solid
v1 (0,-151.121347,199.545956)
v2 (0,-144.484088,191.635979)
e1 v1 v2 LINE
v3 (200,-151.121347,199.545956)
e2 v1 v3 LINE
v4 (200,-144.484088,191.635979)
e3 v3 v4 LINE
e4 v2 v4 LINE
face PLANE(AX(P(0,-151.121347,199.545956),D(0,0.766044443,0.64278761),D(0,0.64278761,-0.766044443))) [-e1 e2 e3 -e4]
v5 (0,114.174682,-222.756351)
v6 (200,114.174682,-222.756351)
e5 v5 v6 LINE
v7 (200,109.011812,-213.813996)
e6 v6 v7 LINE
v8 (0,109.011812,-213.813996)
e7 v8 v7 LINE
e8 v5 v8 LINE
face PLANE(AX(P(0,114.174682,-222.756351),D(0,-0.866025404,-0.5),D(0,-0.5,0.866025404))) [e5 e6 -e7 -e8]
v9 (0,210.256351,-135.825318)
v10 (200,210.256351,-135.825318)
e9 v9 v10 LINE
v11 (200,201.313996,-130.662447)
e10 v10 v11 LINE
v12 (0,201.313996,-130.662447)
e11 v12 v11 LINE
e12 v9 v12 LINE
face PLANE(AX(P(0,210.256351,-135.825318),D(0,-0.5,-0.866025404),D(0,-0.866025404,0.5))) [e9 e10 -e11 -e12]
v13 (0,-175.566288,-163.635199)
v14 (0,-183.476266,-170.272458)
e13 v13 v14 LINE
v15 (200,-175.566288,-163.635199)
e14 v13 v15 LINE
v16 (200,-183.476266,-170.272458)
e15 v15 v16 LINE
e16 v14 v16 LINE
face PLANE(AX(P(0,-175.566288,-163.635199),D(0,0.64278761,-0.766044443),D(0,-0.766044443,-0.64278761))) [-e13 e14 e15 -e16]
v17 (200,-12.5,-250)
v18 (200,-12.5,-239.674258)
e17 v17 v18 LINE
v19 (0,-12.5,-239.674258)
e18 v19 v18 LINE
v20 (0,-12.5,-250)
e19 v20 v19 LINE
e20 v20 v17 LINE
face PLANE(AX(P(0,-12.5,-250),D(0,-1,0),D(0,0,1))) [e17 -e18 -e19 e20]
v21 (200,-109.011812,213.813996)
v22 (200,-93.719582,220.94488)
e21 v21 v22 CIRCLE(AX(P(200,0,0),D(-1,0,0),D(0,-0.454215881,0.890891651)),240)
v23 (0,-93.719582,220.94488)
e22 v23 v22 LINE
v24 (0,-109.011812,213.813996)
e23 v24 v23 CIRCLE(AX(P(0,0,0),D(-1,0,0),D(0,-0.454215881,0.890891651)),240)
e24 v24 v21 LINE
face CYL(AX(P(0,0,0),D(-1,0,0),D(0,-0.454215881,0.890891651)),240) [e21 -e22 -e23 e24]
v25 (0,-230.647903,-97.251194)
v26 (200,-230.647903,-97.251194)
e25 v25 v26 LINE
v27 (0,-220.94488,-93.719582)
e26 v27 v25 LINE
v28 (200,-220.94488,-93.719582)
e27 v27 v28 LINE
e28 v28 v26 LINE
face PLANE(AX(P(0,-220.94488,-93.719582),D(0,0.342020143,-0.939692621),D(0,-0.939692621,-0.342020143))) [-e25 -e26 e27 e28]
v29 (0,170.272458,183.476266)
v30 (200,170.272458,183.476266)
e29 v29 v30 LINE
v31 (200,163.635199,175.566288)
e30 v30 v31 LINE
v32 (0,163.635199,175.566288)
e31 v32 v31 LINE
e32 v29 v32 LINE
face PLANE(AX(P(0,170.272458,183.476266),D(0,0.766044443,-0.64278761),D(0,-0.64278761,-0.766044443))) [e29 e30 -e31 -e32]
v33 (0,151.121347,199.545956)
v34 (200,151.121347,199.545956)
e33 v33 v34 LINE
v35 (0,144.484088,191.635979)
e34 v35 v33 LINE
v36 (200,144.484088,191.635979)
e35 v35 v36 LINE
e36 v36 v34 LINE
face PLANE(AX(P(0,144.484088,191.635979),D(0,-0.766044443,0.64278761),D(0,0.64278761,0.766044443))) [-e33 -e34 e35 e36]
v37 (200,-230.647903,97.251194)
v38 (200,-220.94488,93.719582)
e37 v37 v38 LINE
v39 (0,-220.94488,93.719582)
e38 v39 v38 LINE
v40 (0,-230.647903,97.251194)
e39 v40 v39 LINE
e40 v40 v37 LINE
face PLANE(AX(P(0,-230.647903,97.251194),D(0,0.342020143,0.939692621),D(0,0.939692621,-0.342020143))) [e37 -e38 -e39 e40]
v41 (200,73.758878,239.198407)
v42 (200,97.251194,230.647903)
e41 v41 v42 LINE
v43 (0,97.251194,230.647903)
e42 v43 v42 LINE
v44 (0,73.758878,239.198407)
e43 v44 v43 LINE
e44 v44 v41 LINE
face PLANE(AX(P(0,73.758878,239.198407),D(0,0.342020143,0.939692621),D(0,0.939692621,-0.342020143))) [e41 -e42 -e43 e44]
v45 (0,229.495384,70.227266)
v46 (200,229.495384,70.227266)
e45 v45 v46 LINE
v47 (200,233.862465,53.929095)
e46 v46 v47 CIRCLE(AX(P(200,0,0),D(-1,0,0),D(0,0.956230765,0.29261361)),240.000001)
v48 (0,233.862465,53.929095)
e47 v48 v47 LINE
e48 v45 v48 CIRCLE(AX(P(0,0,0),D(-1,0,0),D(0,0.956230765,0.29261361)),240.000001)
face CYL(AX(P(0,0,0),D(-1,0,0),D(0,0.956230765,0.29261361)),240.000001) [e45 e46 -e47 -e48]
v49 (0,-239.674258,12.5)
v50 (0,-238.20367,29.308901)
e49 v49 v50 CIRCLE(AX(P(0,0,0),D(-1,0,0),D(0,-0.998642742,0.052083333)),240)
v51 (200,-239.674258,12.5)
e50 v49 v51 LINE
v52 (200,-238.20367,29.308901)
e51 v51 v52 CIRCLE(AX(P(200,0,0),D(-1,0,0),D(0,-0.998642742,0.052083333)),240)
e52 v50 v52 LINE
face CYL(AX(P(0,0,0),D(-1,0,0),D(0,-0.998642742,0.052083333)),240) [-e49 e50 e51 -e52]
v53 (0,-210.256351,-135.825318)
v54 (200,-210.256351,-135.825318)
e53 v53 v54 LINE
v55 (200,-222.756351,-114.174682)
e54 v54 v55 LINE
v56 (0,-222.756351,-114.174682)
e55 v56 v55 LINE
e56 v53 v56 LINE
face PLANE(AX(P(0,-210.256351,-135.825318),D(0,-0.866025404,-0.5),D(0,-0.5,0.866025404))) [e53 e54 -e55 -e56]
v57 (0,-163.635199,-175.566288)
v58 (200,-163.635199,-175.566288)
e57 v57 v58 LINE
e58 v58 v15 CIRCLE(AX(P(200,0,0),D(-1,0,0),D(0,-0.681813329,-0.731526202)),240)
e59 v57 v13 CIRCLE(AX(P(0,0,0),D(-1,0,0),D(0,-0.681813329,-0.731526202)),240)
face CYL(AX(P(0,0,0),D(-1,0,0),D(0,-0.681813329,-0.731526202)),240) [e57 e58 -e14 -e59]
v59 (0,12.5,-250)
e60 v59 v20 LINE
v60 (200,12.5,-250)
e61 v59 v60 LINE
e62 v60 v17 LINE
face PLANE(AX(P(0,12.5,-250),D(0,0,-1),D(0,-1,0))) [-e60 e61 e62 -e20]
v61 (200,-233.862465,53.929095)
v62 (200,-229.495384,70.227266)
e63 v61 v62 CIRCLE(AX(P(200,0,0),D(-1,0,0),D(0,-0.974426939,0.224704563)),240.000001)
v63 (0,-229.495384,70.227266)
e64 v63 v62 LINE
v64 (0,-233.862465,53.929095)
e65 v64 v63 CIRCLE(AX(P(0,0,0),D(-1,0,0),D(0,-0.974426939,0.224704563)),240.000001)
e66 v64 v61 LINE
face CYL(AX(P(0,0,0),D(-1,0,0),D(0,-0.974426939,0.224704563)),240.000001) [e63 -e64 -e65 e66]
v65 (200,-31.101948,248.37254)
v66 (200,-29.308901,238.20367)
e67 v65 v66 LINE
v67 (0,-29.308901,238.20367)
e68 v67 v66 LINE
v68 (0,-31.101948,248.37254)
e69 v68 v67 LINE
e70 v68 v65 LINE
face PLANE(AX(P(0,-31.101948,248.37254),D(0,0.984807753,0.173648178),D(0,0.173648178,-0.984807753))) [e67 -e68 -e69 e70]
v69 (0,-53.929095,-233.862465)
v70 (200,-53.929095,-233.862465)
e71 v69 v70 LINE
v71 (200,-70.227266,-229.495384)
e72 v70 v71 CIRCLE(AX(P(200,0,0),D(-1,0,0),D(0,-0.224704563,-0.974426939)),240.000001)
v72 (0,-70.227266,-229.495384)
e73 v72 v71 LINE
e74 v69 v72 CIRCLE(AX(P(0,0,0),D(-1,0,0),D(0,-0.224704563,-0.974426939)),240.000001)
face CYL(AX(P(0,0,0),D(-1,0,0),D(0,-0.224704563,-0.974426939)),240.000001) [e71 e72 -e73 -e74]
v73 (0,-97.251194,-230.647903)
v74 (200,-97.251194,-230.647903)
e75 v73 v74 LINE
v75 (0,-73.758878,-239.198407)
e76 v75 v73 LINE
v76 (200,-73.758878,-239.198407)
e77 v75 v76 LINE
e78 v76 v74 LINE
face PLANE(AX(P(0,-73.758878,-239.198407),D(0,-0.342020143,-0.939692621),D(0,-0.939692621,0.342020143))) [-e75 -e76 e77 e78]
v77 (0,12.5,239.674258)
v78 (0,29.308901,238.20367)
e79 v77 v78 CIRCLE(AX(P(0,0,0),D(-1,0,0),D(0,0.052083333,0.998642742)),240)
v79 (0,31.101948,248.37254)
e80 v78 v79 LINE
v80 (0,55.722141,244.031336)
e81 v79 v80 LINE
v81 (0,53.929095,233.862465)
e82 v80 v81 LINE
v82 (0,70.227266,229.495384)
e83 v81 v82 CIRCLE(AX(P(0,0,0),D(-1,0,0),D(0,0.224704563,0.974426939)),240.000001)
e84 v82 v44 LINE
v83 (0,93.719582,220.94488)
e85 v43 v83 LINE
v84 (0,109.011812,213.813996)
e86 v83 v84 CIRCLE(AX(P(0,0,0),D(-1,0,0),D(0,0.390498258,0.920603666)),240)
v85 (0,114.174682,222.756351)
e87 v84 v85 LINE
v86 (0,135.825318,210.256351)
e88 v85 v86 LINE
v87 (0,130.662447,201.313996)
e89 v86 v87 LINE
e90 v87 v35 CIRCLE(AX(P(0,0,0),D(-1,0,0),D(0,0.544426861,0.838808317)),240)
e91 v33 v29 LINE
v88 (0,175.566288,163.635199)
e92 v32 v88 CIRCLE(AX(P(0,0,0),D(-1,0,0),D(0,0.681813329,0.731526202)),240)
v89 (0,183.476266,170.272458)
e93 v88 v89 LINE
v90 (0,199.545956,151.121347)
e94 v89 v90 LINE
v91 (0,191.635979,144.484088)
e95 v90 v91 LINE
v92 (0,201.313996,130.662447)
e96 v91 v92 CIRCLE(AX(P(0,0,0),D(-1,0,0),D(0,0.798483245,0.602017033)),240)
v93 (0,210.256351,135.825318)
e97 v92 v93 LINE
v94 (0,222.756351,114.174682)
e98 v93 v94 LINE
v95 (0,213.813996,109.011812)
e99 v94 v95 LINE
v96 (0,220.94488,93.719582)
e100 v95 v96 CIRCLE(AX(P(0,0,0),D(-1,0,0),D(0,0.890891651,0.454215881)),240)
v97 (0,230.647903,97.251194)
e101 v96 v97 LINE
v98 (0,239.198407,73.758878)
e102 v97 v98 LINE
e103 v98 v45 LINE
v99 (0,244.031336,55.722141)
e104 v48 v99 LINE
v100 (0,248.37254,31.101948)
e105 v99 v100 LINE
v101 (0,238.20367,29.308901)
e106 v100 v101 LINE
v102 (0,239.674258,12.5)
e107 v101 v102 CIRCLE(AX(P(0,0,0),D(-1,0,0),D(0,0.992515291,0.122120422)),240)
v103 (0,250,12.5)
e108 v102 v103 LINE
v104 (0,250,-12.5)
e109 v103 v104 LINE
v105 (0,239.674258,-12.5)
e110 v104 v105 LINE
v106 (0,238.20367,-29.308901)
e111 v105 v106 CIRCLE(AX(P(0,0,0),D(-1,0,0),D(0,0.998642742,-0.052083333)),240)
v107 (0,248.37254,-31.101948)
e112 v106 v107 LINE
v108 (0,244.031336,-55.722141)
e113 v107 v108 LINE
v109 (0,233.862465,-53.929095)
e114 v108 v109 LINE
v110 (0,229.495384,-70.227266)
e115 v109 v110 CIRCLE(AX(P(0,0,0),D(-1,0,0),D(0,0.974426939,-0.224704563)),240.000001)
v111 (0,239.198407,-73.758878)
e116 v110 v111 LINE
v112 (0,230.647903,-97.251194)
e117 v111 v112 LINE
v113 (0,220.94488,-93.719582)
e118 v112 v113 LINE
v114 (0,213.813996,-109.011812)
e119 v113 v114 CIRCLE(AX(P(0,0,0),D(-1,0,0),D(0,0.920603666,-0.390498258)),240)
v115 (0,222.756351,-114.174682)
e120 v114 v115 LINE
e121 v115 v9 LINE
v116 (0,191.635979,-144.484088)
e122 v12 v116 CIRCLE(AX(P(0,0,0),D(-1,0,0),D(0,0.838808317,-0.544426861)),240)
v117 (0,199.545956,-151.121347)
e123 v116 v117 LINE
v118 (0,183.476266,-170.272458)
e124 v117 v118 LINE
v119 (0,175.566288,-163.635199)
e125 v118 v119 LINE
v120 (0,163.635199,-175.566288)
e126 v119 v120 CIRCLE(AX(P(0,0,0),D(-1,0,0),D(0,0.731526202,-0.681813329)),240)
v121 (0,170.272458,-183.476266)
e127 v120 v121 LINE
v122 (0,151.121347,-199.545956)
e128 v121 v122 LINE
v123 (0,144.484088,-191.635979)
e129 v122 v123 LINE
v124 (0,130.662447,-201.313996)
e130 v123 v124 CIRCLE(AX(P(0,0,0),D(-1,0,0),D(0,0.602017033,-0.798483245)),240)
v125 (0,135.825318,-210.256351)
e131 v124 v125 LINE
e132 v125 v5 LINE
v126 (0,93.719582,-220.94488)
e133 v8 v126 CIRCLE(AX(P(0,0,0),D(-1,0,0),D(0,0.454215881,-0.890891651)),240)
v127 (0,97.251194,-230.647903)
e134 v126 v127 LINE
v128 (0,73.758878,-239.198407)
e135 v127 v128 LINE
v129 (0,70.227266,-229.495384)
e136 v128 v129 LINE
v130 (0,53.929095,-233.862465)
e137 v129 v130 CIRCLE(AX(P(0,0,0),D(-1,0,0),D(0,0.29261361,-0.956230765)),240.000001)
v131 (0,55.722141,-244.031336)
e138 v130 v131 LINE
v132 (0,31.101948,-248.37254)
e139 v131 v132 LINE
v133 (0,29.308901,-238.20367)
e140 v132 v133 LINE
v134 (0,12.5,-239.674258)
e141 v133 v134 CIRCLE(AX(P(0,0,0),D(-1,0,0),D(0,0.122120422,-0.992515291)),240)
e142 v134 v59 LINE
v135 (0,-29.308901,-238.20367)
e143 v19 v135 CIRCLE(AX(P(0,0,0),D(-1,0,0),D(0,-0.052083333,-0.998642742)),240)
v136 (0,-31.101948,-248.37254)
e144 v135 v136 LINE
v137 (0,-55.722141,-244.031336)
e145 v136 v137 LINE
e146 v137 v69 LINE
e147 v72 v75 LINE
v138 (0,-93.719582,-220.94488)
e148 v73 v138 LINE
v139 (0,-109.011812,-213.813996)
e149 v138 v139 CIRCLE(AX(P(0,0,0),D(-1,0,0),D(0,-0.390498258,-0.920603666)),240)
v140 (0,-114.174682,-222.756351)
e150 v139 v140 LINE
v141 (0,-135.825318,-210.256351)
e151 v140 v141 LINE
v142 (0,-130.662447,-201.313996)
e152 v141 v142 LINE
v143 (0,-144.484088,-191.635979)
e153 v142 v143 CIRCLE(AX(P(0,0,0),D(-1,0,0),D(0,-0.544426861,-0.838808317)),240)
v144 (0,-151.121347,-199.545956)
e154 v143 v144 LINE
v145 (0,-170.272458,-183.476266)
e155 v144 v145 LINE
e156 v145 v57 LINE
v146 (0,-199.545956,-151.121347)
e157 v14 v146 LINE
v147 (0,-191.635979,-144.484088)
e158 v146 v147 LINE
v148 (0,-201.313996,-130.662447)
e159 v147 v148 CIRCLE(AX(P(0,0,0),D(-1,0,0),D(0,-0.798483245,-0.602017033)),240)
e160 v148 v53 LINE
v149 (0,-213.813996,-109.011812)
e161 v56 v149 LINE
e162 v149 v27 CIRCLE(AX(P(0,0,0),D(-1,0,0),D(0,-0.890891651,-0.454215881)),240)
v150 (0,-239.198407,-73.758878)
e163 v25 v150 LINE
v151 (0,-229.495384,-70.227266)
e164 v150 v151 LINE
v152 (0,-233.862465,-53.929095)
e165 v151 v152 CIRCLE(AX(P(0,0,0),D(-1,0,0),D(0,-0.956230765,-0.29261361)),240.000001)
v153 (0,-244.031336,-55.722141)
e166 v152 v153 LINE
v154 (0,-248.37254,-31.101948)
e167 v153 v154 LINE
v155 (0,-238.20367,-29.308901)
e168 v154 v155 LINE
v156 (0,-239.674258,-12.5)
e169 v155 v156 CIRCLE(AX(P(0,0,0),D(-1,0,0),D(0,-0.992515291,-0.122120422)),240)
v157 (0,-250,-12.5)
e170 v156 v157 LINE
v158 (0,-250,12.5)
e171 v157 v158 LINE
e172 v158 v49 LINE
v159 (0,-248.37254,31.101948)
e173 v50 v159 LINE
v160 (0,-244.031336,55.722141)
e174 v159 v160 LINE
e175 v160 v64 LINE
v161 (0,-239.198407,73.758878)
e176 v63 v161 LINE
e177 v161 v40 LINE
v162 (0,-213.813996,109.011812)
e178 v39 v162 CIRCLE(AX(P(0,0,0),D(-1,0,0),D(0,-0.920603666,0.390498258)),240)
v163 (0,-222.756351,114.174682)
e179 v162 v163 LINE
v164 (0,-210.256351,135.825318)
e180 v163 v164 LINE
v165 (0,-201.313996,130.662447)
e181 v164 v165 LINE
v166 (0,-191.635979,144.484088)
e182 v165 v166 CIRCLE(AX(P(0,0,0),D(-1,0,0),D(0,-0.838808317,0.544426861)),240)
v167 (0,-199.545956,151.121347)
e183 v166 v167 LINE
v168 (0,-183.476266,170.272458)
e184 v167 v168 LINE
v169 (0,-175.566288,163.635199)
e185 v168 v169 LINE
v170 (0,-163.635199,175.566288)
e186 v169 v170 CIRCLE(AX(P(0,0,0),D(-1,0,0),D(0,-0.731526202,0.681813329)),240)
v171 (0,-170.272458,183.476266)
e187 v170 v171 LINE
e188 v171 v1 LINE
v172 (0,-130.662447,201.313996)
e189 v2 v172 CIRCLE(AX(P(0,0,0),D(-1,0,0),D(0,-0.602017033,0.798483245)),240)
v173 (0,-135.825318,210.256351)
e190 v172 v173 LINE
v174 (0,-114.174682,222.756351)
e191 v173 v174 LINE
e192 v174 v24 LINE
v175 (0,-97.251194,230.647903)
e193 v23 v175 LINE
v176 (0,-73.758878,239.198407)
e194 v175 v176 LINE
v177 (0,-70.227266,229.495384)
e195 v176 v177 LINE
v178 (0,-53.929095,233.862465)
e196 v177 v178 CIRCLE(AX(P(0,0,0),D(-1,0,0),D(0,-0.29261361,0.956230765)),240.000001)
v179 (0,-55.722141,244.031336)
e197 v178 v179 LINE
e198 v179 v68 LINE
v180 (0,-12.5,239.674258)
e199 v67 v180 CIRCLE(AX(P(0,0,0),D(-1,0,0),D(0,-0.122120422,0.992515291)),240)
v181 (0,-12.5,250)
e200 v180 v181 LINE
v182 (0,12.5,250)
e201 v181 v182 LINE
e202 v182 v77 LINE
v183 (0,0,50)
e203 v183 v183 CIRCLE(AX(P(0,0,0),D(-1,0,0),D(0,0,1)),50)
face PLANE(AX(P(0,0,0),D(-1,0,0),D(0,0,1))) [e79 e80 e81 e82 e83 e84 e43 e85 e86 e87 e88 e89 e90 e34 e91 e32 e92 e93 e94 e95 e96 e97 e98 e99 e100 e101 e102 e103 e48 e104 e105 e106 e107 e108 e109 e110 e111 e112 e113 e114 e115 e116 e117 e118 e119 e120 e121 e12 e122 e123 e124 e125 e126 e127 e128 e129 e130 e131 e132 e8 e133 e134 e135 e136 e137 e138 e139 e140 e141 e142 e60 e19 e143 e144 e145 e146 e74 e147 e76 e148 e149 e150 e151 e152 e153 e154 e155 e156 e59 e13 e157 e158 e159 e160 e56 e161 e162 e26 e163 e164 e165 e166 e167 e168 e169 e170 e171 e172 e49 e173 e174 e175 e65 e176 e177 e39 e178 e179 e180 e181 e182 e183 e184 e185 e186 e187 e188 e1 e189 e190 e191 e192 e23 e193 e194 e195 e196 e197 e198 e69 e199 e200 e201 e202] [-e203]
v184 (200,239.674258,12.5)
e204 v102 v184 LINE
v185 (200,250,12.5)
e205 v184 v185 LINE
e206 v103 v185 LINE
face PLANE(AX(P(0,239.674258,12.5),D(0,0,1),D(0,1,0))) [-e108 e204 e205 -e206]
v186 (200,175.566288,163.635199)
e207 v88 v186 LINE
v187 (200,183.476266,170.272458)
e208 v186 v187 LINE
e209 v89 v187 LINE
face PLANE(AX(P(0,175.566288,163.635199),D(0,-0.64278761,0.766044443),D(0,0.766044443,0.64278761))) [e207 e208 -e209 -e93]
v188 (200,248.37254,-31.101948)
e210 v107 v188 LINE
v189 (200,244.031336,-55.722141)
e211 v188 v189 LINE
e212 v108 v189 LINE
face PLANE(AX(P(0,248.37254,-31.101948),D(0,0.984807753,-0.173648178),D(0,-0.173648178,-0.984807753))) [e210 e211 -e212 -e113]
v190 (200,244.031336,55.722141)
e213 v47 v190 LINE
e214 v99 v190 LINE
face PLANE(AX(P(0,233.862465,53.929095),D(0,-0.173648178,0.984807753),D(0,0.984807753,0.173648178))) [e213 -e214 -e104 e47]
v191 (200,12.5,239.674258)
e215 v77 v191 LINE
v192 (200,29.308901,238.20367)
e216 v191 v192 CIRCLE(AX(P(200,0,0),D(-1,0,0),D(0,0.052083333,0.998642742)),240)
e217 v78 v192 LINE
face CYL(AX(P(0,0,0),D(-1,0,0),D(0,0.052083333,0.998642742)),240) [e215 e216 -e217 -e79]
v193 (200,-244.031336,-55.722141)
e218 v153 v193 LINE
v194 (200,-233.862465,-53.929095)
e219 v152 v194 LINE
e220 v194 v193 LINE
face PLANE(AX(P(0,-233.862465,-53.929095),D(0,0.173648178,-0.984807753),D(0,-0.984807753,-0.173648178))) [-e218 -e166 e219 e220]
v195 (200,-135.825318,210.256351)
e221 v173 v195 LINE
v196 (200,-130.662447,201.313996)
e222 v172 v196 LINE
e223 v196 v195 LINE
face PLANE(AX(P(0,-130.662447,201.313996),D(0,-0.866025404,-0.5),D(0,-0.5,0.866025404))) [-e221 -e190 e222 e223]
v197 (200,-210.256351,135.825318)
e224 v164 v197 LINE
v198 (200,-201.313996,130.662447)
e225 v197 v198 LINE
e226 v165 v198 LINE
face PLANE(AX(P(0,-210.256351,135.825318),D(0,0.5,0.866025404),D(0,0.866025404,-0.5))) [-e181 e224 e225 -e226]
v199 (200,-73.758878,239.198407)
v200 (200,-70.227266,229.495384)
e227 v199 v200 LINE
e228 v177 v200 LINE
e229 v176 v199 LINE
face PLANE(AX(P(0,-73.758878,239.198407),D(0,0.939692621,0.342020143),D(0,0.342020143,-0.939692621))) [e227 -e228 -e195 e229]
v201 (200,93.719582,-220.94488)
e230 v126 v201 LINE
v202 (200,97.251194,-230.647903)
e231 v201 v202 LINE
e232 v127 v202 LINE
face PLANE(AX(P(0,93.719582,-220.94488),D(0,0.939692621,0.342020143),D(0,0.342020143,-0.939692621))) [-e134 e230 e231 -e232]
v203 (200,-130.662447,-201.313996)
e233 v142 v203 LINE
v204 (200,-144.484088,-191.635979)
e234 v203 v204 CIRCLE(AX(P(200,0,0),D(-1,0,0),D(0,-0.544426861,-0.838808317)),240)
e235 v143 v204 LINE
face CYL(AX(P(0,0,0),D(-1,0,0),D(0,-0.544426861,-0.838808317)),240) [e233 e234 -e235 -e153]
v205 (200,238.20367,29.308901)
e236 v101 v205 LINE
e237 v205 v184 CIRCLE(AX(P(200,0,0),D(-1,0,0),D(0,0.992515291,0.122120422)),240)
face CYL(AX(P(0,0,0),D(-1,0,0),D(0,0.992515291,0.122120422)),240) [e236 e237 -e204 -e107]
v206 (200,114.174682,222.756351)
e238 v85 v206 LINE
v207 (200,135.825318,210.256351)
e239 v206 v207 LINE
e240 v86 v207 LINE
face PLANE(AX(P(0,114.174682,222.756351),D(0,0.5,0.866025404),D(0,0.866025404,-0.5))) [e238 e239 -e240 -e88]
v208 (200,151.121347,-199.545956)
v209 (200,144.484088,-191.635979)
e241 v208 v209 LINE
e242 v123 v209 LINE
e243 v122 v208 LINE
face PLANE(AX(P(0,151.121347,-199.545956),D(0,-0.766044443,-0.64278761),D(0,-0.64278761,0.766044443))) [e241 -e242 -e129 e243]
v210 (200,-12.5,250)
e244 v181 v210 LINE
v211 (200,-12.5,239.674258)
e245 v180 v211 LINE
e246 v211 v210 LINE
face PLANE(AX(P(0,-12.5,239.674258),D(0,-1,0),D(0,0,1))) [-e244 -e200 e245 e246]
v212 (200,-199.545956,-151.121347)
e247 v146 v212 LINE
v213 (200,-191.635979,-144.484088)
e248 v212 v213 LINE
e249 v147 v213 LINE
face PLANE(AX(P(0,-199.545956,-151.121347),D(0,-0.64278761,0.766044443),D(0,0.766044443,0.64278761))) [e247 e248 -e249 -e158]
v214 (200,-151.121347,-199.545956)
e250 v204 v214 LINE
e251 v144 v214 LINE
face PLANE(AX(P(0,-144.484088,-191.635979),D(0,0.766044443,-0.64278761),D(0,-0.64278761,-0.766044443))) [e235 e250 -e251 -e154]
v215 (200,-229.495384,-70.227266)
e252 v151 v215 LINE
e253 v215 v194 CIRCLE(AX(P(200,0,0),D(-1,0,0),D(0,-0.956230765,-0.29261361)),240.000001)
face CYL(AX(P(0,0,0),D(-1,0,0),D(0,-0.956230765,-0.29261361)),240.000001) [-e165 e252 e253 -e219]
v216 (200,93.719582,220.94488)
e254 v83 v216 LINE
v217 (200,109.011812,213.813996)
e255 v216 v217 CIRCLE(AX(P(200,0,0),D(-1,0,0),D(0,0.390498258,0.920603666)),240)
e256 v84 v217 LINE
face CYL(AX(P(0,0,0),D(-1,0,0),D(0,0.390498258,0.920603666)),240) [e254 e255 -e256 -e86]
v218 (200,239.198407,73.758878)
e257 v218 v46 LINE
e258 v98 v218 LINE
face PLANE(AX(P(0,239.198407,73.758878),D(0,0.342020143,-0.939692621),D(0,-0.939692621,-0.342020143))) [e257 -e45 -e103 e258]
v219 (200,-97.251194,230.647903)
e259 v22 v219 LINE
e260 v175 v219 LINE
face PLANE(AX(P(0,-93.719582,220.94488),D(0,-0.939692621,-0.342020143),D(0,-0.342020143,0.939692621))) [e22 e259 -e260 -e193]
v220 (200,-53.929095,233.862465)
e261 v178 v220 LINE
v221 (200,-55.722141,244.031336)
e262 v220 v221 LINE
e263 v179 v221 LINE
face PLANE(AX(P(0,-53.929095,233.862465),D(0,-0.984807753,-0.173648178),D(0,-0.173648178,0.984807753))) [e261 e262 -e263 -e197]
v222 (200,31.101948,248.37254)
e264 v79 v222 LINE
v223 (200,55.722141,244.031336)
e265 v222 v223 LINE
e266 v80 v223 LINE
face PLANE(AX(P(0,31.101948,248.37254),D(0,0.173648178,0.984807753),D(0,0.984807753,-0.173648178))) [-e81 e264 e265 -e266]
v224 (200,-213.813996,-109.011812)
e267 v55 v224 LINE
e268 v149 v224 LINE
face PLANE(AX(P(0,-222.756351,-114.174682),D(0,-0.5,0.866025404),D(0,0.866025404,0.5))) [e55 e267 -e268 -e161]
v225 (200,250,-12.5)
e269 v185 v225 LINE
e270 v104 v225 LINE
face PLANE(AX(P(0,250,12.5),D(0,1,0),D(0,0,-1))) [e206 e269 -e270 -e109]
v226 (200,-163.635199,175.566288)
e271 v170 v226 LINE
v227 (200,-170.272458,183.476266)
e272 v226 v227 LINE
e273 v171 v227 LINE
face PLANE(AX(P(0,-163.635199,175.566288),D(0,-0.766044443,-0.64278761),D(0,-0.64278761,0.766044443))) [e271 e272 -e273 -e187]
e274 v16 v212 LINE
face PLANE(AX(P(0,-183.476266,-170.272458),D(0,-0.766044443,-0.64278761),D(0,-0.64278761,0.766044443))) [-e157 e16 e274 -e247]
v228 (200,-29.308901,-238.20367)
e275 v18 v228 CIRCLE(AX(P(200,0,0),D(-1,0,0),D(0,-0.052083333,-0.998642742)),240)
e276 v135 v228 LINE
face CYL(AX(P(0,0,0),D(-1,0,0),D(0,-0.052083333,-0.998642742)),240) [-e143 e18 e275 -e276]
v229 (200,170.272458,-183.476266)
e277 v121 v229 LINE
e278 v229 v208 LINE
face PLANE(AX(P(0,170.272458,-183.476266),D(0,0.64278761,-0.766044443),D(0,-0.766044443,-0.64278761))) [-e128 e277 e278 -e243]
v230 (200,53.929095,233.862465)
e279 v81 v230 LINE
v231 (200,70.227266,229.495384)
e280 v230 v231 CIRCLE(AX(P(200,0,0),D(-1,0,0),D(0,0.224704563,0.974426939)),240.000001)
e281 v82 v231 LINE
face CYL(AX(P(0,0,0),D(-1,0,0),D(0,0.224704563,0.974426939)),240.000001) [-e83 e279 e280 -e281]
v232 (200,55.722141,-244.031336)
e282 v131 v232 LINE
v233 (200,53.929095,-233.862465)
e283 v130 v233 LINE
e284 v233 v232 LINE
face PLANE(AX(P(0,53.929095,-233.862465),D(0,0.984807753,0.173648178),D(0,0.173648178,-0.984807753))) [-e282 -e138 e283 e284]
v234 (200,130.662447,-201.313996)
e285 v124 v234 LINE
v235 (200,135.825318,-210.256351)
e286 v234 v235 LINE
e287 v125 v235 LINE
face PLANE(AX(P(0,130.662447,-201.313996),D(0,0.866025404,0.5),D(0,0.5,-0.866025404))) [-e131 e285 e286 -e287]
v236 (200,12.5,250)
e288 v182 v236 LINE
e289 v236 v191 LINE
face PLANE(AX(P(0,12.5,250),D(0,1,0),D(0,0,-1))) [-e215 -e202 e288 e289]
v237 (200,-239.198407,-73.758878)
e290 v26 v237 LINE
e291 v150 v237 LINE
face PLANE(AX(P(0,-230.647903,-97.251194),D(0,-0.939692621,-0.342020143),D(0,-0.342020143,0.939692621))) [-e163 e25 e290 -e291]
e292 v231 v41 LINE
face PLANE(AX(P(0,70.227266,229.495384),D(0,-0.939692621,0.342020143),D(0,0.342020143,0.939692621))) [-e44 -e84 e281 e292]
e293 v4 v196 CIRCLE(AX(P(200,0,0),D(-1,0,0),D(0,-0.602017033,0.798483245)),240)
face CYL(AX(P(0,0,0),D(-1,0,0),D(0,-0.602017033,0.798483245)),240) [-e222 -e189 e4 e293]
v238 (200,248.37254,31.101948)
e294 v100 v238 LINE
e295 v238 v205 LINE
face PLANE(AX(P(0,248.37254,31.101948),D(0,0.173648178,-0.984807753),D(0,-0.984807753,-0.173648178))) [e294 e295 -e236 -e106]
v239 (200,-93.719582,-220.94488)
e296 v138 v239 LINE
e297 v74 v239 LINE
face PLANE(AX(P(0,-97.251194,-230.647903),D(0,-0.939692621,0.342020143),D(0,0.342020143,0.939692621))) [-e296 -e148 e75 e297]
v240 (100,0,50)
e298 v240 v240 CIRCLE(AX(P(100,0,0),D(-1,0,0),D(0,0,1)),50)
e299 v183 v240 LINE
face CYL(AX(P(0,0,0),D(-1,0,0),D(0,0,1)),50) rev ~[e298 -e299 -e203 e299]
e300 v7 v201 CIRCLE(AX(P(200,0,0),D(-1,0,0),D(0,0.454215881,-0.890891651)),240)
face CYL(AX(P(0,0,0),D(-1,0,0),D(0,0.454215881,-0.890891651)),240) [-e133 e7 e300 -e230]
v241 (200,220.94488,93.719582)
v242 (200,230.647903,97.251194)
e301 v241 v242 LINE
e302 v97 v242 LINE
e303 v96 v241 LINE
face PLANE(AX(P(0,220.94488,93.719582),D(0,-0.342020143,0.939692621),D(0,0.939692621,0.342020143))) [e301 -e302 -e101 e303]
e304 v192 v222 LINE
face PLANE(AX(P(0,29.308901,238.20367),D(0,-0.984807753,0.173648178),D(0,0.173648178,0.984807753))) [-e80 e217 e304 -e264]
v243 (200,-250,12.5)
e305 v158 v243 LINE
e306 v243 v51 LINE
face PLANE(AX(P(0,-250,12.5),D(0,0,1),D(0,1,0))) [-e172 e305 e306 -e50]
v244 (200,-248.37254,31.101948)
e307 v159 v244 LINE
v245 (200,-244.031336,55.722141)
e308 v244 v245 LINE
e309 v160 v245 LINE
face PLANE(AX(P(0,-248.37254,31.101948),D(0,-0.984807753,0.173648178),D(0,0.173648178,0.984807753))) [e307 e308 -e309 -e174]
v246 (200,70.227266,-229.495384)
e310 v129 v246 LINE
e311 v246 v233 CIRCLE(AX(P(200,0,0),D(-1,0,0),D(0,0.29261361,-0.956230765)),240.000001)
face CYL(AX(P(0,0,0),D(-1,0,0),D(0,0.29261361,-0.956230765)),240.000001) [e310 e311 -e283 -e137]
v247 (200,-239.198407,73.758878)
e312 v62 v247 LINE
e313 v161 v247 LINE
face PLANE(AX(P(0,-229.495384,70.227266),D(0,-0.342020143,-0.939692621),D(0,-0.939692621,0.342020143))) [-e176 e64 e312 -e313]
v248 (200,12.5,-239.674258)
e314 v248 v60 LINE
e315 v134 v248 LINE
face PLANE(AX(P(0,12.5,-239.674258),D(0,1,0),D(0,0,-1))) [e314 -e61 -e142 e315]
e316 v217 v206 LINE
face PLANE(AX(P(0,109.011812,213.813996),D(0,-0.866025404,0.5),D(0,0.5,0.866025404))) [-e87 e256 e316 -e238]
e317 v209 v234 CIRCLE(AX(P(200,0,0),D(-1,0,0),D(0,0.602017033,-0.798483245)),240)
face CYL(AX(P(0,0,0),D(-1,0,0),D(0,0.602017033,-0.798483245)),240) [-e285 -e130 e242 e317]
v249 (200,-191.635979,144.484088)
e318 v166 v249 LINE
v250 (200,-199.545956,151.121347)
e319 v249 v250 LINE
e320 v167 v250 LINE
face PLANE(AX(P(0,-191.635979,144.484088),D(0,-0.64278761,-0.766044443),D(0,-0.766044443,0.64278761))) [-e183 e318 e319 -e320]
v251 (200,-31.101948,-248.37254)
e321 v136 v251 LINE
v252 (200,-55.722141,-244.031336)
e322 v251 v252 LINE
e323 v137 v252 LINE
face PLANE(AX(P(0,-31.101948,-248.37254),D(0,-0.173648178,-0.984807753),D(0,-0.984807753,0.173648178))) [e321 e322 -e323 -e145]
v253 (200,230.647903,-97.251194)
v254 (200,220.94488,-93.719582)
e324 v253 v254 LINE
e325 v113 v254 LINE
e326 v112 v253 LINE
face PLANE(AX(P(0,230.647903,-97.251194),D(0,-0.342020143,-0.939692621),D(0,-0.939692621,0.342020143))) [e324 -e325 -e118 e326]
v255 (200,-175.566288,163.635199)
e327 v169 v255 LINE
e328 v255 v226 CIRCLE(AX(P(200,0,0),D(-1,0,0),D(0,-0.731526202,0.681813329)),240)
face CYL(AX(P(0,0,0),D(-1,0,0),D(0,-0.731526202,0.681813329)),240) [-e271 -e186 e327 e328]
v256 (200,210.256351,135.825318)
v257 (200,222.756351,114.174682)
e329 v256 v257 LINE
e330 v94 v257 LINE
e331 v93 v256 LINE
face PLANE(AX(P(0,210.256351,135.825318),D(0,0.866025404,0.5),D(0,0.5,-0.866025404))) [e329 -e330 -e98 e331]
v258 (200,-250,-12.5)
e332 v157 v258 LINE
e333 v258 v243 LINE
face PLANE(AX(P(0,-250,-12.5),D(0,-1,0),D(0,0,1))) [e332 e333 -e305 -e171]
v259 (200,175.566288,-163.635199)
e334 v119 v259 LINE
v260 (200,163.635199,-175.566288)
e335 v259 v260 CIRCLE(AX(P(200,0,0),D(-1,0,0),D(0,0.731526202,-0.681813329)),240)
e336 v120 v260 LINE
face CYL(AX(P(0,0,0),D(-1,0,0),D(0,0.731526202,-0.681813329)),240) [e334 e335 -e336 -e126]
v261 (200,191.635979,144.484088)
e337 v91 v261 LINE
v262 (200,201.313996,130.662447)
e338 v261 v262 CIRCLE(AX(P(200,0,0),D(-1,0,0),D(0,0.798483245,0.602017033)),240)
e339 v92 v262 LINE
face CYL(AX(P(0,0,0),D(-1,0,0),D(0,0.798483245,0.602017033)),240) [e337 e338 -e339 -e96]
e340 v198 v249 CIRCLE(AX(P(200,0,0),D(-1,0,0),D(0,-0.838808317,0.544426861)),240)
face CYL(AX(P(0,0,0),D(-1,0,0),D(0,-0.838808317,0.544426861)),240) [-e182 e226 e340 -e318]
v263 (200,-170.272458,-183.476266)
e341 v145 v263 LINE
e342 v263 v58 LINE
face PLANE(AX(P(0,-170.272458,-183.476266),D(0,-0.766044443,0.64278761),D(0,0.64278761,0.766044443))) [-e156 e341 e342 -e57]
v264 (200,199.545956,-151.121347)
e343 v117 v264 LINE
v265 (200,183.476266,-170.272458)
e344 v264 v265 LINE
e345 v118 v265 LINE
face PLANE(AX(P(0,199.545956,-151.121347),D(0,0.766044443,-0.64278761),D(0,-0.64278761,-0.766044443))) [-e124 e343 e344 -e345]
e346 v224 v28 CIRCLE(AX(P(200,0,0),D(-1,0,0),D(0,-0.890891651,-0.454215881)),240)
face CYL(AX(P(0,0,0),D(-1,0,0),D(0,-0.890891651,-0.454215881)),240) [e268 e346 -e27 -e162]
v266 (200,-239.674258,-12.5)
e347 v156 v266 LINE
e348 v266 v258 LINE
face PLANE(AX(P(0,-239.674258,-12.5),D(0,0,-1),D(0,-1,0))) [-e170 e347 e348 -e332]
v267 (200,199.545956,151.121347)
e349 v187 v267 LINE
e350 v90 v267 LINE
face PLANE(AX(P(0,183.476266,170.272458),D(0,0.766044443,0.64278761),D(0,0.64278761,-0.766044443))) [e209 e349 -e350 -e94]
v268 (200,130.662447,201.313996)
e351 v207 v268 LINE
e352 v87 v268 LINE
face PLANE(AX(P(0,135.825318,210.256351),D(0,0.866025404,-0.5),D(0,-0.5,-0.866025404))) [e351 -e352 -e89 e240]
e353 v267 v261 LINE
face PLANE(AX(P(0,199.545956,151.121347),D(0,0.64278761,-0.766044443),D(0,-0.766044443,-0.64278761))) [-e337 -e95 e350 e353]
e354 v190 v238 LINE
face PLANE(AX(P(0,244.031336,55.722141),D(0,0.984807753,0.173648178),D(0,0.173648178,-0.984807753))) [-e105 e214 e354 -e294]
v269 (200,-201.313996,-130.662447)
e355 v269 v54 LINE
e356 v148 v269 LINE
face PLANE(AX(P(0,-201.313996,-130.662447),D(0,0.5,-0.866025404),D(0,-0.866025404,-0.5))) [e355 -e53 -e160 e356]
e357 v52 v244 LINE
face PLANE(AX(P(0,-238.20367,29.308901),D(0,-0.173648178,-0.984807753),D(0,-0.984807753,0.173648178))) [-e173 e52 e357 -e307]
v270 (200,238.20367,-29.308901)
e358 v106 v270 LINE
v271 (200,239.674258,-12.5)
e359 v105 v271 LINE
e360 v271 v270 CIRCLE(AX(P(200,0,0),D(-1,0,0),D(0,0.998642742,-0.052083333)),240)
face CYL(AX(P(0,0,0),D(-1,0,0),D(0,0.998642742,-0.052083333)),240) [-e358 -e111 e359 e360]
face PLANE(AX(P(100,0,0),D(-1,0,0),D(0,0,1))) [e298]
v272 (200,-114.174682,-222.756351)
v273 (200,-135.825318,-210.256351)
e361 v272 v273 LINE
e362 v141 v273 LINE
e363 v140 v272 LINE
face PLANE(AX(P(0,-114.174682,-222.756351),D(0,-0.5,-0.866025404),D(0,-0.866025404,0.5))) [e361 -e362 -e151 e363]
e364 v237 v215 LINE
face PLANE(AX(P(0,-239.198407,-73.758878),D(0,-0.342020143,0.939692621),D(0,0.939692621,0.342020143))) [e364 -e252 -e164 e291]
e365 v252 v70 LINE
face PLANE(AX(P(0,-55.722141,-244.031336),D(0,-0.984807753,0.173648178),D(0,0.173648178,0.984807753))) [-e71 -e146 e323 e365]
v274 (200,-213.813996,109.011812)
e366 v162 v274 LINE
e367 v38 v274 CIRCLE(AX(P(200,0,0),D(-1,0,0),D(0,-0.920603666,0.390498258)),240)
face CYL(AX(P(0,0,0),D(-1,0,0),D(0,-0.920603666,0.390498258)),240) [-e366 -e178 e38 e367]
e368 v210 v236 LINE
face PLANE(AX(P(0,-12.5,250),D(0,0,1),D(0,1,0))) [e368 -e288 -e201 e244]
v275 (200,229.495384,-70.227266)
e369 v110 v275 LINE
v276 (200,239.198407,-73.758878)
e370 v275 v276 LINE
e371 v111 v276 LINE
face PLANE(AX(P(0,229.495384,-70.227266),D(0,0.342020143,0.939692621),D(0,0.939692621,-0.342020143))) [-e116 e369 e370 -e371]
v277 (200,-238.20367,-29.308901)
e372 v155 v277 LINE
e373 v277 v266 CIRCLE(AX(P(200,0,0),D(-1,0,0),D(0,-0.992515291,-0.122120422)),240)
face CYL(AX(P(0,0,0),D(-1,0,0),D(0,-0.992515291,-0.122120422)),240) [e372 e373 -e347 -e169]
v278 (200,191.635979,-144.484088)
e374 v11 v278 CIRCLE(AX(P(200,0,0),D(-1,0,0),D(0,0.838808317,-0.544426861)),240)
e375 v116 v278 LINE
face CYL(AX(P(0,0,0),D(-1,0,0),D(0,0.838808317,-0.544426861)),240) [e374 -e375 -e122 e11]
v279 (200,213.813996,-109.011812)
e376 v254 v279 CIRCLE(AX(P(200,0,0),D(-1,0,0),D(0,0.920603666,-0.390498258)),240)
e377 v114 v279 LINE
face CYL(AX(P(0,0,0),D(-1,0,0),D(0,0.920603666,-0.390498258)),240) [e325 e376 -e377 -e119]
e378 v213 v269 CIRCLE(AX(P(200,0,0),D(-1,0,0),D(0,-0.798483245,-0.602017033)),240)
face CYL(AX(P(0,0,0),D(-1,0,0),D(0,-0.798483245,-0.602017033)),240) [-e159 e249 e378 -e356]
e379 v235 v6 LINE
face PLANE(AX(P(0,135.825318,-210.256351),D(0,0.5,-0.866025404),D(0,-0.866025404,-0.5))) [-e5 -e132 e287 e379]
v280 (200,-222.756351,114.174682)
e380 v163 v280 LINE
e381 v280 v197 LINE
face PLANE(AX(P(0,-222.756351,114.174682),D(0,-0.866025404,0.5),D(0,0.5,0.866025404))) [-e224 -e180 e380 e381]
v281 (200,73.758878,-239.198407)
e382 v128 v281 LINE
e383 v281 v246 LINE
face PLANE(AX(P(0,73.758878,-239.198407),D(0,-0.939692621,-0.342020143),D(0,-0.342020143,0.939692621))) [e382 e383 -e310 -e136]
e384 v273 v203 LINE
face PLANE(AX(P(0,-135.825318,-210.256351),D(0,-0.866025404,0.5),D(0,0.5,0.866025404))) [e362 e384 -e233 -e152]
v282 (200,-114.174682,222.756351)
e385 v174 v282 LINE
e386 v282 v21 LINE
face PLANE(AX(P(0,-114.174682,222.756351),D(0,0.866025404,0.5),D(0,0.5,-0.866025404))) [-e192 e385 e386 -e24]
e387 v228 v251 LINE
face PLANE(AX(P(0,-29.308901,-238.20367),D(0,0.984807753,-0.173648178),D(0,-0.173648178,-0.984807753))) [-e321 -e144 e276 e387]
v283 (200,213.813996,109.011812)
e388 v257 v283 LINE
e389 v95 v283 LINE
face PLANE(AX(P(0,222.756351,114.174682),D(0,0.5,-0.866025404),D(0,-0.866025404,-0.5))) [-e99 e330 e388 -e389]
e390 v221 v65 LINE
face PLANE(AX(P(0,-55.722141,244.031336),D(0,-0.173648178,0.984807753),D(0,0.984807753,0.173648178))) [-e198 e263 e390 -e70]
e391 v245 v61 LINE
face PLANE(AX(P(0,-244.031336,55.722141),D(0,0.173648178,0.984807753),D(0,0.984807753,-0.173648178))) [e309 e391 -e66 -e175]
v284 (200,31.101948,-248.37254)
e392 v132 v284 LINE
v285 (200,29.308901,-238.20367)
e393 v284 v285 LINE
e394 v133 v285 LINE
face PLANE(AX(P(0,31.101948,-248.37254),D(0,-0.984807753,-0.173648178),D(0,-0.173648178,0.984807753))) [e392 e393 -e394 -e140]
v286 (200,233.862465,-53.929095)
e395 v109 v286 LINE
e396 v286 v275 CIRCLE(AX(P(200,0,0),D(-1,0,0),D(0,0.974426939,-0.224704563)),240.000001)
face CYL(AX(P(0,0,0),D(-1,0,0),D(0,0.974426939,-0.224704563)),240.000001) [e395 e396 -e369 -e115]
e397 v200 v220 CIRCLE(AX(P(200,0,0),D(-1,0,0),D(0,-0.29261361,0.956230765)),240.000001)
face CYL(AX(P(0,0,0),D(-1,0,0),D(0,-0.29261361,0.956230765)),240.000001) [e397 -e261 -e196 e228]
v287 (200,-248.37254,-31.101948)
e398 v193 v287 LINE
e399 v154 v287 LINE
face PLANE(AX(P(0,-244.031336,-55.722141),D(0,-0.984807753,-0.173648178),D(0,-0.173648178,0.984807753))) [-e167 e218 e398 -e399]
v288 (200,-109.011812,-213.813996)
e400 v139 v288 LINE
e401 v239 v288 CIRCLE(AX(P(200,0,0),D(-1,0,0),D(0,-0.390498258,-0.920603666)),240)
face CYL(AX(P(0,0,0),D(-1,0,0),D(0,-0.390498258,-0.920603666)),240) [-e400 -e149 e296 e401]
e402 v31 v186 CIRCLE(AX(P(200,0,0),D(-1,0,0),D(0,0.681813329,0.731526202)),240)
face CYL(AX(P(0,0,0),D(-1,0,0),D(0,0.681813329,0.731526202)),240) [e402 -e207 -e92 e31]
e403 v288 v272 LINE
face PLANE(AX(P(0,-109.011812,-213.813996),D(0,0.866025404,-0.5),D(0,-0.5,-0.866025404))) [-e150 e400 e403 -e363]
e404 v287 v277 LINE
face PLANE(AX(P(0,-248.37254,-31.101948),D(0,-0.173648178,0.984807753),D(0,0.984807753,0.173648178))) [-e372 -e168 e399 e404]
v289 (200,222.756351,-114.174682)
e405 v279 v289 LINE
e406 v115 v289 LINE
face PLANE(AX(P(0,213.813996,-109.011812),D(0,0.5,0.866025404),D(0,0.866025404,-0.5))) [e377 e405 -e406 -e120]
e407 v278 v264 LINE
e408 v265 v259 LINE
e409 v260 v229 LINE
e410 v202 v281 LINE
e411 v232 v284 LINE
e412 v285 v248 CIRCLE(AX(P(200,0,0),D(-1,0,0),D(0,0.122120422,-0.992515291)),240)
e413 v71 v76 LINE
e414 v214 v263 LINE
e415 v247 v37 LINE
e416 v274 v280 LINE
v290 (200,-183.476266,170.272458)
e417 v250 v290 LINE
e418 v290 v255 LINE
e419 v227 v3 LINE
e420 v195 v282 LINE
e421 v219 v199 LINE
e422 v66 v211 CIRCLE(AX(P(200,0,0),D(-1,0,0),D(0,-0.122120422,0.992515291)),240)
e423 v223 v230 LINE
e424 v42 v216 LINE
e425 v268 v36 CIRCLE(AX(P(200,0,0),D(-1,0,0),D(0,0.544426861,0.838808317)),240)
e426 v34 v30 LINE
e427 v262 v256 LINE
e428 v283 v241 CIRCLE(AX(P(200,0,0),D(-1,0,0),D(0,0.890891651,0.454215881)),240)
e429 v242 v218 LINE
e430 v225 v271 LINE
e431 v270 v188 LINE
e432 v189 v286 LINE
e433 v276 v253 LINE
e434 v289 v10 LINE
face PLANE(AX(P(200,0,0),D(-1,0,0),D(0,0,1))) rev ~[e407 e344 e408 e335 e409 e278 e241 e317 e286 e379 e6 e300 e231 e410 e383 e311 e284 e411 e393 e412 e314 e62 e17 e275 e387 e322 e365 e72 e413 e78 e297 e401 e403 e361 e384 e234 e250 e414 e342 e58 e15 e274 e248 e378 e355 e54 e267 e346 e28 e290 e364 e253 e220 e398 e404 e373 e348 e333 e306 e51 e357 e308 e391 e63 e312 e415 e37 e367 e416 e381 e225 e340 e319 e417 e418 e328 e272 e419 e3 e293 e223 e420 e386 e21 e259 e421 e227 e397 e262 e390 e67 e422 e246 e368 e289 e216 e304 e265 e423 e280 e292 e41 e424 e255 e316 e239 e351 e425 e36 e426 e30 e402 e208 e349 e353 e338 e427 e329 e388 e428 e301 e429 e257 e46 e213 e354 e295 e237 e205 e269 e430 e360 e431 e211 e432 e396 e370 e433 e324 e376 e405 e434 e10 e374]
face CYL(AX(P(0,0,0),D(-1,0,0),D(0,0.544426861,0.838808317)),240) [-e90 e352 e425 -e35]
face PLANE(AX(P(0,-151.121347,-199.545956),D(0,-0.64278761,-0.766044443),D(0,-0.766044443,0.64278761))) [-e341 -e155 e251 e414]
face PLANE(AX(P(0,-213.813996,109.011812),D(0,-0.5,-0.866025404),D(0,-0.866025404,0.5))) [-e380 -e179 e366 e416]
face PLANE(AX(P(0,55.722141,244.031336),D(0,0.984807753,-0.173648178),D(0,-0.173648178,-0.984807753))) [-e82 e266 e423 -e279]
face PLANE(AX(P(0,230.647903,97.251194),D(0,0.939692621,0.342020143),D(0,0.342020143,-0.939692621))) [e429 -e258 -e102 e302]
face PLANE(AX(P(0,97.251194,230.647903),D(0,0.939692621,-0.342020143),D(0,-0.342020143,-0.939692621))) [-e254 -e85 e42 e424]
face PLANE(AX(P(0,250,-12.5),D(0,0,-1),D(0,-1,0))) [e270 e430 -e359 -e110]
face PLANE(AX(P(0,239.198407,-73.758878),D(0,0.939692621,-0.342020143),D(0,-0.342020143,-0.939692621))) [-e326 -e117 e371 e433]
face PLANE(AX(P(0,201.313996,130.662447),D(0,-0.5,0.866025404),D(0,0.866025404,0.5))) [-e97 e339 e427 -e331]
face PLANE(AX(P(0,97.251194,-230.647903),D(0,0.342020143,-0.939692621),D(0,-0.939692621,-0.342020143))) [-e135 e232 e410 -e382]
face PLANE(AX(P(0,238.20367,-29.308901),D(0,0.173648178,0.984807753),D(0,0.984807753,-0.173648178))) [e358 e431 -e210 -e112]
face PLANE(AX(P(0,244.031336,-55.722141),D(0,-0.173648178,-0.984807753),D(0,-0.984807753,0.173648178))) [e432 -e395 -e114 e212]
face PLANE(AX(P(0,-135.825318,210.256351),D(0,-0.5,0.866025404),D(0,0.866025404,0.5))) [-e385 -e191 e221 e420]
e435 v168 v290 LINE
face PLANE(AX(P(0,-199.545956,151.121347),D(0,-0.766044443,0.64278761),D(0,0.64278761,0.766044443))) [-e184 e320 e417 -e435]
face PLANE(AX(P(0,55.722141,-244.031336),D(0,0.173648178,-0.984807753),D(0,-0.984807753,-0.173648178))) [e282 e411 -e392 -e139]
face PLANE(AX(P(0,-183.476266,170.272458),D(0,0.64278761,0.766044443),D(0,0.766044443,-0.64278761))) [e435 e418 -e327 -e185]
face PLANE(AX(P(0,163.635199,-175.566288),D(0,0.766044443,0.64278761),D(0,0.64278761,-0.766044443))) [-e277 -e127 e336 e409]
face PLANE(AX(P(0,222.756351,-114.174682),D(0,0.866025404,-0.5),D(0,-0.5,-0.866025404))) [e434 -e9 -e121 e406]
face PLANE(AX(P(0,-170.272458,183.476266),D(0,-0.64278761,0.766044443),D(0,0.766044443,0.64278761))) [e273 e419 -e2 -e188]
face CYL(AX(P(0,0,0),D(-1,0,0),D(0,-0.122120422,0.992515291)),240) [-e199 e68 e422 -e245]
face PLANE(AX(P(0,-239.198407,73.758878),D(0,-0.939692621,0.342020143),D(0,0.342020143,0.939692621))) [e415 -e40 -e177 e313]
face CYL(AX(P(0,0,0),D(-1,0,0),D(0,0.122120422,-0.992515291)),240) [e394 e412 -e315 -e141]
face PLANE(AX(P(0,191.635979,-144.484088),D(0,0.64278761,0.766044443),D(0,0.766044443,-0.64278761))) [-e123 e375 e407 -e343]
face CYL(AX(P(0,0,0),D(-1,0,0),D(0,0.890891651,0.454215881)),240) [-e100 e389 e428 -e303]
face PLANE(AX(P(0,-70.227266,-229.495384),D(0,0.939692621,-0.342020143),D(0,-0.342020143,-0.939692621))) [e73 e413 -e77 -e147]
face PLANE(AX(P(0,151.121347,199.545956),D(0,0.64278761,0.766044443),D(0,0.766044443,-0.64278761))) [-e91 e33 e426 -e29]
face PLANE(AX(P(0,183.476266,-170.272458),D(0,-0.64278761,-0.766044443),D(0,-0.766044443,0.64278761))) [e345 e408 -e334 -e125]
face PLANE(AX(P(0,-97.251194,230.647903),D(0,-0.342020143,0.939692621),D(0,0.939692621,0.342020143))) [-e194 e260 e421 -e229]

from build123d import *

# Parameters (mm, degrees)
BOSS_EXTRUDE1_DEPTH = 200
SKETCH2_R           = 50
CUT_EXTRUDE1_DEPTH  = 100


with BuildPart() as part:
    # Sketch1 → Boss-Extrude1 (new body)
    with BuildSketch(Plane(origin=(0, 0, 0), x_dir=(0, 0, -1), z_dir=(1, 0, 0))):
        with BuildLine():
            Line((-12.5, 250), (12.5, 250))
            Line((12.5, 250), (12.5, 239.674258109))
            ThreePointArc((12.5, 239.674258109), (20.917378259, 239.086727542), (29.308901242, 238.203669804))
            Line((29.308901242, 238.203669804), (31.101947504, 248.372540474))
            Line((31.101947504, 248.372540474), (55.722141329, 244.031336032))
            Line((55.722141329, 244.031336032), (53.929095067, 233.862465362))
            ThreePointArc((53.929095067, 233.862465362), (62.116570825, 231.822198309), (70.22726635, 229.495383529))
            Line((70.22726635, 229.495383529), (73.758878072, 239.198406988))
            Line((73.758878072, 239.198406988), (97.251193591, 230.647903405))
            Line((97.251193591, 230.647903405), (93.71958187, 220.944879946))
            ThreePointArc((93.71958187, 220.944879946), (101.428382818, 217.513868889), (109.011811507, 213.813996155))
            Line((109.011811507, 213.813996155), (114.174682453, 222.756350946))
            Line((114.174682453, 222.756350946), (135.825317547, 210.256350946))
            Line((135.825317547, 210.256350946), (130.662446602, 201.313996155))
            ThreePointArc((130.662446602, 201.313996155), (137.658344724, 196.596490629), (144.484087934, 191.635978704))
            Line((144.484087934, 191.635978704), (151.121346883, 199.545955901))
            Line((151.121346883, 199.545955901), (170.272457961, 183.476265659))
            Line((170.272457961, 183.476265659), (163.635199012, 175.566288462))
            ThreePointArc((163.635199012, 175.566288462), (169.705627485, 169.705627485), (175.566288462, 163.635199012))
            Line((175.566288462, 163.635199012), (183.476265659, 170.272457961))
            Line((183.476265659, 170.272457961), (199.545955901, 151.121346883))
            Line((199.545955901, 151.121346883), (191.635978704, 144.484087934))
            ThreePointArc((191.635978704, 144.484087934), (196.596490629, 137.658344724), (201.313996155, 130.662446602))
            Line((201.313996155, 130.662446602), (210.256350946, 135.825317547))
            Line((210.256350946, 135.825317547), (222.756350946, 114.174682453))
            Line((222.756350946, 114.174682453), (213.813996155, 109.011811507))
            ThreePointArc((213.813996155, 109.011811507), (217.513868889, 101.428382818), (220.944879946, 93.71958187))
            Line((220.944879946, 93.71958187), (230.647903405, 97.251193591))
            Line((230.647903405, 97.251193591), (239.198406988, 73.758878072))
            Line((239.198406988, 73.758878072), (229.495383529, 70.22726635))
            ThreePointArc((229.495383529, 70.22726635), (231.822198309, 62.116570825), (233.862465362, 53.929095067))
            Line((233.862465362, 53.929095067), (244.031336032, 55.722141329))
            Line((244.031336032, 55.722141329), (248.372540474, 31.101947504))
            Line((248.372540474, 31.101947504), (238.203669804, 29.308901242))
            ThreePointArc((238.203669804, 29.308901242), (239.086727542, 20.917378259), (239.674258109, 12.5))
            Line((239.674258109, 12.5), (250, 12.5))
            Line((250, 12.5), (250, -12.5))
            Line((250, -12.5), (239.674258109, -12.5))
            ThreePointArc((239.674258109, -12.5), (239.086727542, -20.917378259), (238.203669804, -29.308901242))
            Line((238.203669804, -29.308901242), (248.372540474, -31.101947504))
            Line((248.372540474, -31.101947504), (244.031336032, -55.722141329))
            Line((244.031336032, -55.722141329), (233.862465362, -53.929095067))
            ThreePointArc((233.862465362, -53.929095067), (231.822198309, -62.116570825), (229.495383529, -70.22726635))
            Line((229.495383529, -70.22726635), (239.198406988, -73.758878072))
            Line((239.198406988, -73.758878072), (230.647903405, -97.251193591))
            Line((230.647903405, -97.251193591), (220.944879946, -93.71958187))
            ThreePointArc((220.944879946, -93.71958187), (217.513868889, -101.428382818), (213.813996155, -109.011811507))
            Line((213.813996155, -109.011811507), (222.756350946, -114.174682453))
            Line((222.756350946, -114.174682453), (210.256350946, -135.825317547))
            Line((210.256350946, -135.825317547), (201.313996155, -130.662446602))
            ThreePointArc((201.313996155, -130.662446602), (196.596490629, -137.658344724), (191.635978704, -144.484087934))
            Line((191.635978704, -144.484087934), (199.545955901, -151.121346883))
            Line((199.545955901, -151.121346883), (183.476265659, -170.272457961))
            Line((183.476265659, -170.272457961), (175.566288462, -163.635199012))
            ThreePointArc((175.566288462, -163.635199012), (169.705627485, -169.705627485), (163.635199012, -175.566288462))
            Line((163.635199012, -175.566288462), (170.272457961, -183.476265659))
            Line((170.272457961, -183.476265659), (151.121346883, -199.545955901))
            Line((151.121346883, -199.545955901), (144.484087934, -191.635978704))
            ThreePointArc((144.484087934, -191.635978704), (137.658344724, -196.596490629), (130.662446602, -201.313996155))
            Line((130.662446602, -201.313996155), (135.825317547, -210.256350946))
            Line((135.825317547, -210.256350946), (114.174682453, -222.756350946))
            Line((114.174682453, -222.756350946), (109.011811507, -213.813996155))
            ThreePointArc((109.011811507, -213.813996155), (101.428382818, -217.513868889), (93.71958187, -220.944879946))
            Line((93.71958187, -220.944879946), (97.251193591, -230.647903405))
            Line((97.251193591, -230.647903405), (73.758878072, -239.198406988))
            Line((73.758878072, -239.198406988), (70.22726635, -229.495383529))
            ThreePointArc((70.22726635, -229.495383529), (62.116570825, -231.822198309), (53.929095067, -233.862465362))
            Line((53.929095067, -233.862465362), (55.722141329, -244.031336032))
            Line((55.722141329, -244.031336032), (31.101947504, -248.372540474))
            Line((31.101947504, -248.372540474), (29.308901242, -238.203669804))
            ThreePointArc((29.308901242, -238.203669804), (20.917378259, -239.086727542), (12.5, -239.674258109))
            Line((12.5, -239.674258109), (12.5, -250))
            Line((12.5, -250), (-12.5, -250))
            Line((-12.5, -250), (-12.5, -239.674258109))
            ThreePointArc((-12.5, -239.674258109), (-20.917378259, -239.086727542), (-29.308901242, -238.203669804))
            Line((-29.308901242, -238.203669804), (-31.101947504, -248.372540474))
            Line((-31.101947504, -248.372540474), (-55.722141329, -244.031336032))
            Line((-55.722141329, -244.031336032), (-53.929095067, -233.862465362))
            ThreePointArc((-53.929095067, -233.862465362), (-62.116570825, -231.822198309), (-70.22726635, -229.495383529))
            Line((-70.22726635, -229.495383529), (-73.758878072, -239.198406988))
            Line((-73.758878072, -239.198406988), (-97.251193591, -230.647903405))
            Line((-97.251193591, -230.647903405), (-93.71958187, -220.944879946))
            ThreePointArc((-93.71958187, -220.944879946), (-101.428382818, -217.513868889), (-109.011811507, -213.813996155))
            Line((-109.011811507, -213.813996155), (-114.174682453, -222.756350946))
            Line((-114.174682453, -222.756350946), (-135.825317547, -210.256350946))
            Line((-135.825317547, -210.256350946), (-130.662446602, -201.313996155))
            ThreePointArc((-130.662446602, -201.313996155), (-137.658344724, -196.596490629), (-144.484087934, -191.635978704))
            Line((-144.484087934, -191.635978704), (-151.121346883, -199.545955901))
            Line((-151.121346883, -199.545955901), (-170.272457961, -183.476265659))
            Line((-170.272457961, -183.476265659), (-163.635199012, -175.566288462))
            ThreePointArc((-163.635199012, -175.566288462), (-169.705627485, -169.705627485), (-175.566288462, -163.635199012))
            Line((-175.566288462, -163.635199012), (-183.476265659, -170.272457961))
            Line((-183.476265659, -170.272457961), (-199.545955901, -151.121346883))
            Line((-199.545955901, -151.121346883), (-191.635978704, -144.484087934))
            ThreePointArc((-191.635978704, -144.484087934), (-196.596490629, -137.658344724), (-201.313996155, -130.662446602))
            Line((-201.313996155, -130.662446602), (-210.256350946, -135.825317547))
            Line((-210.256350946, -135.825317547), (-222.756350946, -114.174682453))
            Line((-222.756350946, -114.174682453), (-213.813996155, -109.011811507))
            ThreePointArc((-213.813996155, -109.011811507), (-217.513868889, -101.428382818), (-220.944879946, -93.71958187))
            Line((-220.944879946, -93.71958187), (-230.647903405, -97.251193591))
            Line((-230.647903405, -97.251193591), (-239.198406988, -73.758878072))
            Line((-239.198406988, -73.758878072), (-229.495383529, -70.22726635))
            ThreePointArc((-229.495383529, -70.22726635), (-231.822198309, -62.116570825), (-233.862465362, -53.929095067))
            Line((-233.862465362, -53.929095067), (-244.031336032, -55.722141329))
            Line((-244.031336032, -55.722141329), (-248.372540474, -31.101947504))
            Line((-248.372540474, -31.101947504), (-238.203669804, -29.308901242))
            ThreePointArc((-238.203669804, -29.308901242), (-239.086727542, -20.917378259), (-239.674258109, -12.5))
            Line((-239.674258109, -12.5), (-250, -12.5))
            Line((-250, -12.5), (-250, 12.5))
            Line((-250, 12.5), (-239.674258109, 12.5))
            ThreePointArc((-239.674258109, 12.5), (-239.086727542, 20.917378259), (-238.203669804, 29.308901242))
            Line((-238.203669804, 29.308901242), (-248.372540474, 31.101947504))
            Line((-248.372540474, 31.101947504), (-244.031336032, 55.722141329))
            Line((-244.031336032, 55.722141329), (-233.862465362, 53.929095067))
            ThreePointArc((-233.862465362, 53.929095067), (-231.822198309, 62.116570825), (-229.495383529, 70.22726635))
            Line((-229.495383529, 70.22726635), (-239.198406988, 73.758878072))
            Line((-239.198406988, 73.758878072), (-230.647903405, 97.251193591))
            Line((-230.647903405, 97.251193591), (-220.944879946, 93.71958187))
            ThreePointArc((-220.944879946, 93.71958187), (-217.513868889, 101.428382818), (-213.813996155, 109.011811507))
            Line((-213.813996155, 109.011811507), (-222.756350946, 114.174682453))
            Line((-222.756350946, 114.174682453), (-210.256350946, 135.825317547))
            Line((-210.256350946, 135.825317547), (-201.313996155, 130.662446602))
            ThreePointArc((-201.313996155, 130.662446602), (-196.596490629, 137.658344724), (-191.635978704, 144.484087934))
            Line((-191.635978704, 144.484087934), (-199.545955901, 151.121346883))
            Line((-199.545955901, 151.121346883), (-183.476265659, 170.272457961))
            Line((-183.476265659, 170.272457961), (-175.566288462, 163.635199012))
            ThreePointArc((-175.566288462, 163.635199012), (-169.705627485, 169.705627485), (-163.635199012, 175.566288462))
            Line((-163.635199012, 175.566288462), (-170.272457961, 183.476265659))
            Line((-170.272457961, 183.476265659), (-151.121346883, 199.545955901))
            Line((-151.121346883, 199.545955901), (-144.484087934, 191.635978704))
            ThreePointArc((-144.484087934, 191.635978704), (-137.658344724, 196.596490629), (-130.662446602, 201.313996155))
            Line((-130.662446602, 201.313996155), (-135.825317547, 210.256350946))
            Line((-135.825317547, 210.256350946), (-114.174682453, 222.756350946))
            Line((-114.174682453, 222.756350946), (-109.011811507, 213.813996155))
            ThreePointArc((-109.011811507, 213.813996155), (-101.428382818, 217.513868889), (-93.71958187, 220.944879946))
            Line((-93.71958187, 220.944879946), (-97.251193591, 230.647903405))
            Line((-97.251193591, 230.647903405), (-73.758878072, 239.198406988))
            Line((-73.758878072, 239.198406988), (-70.22726635, 229.495383529))
            ThreePointArc((-70.22726635, 229.495383529), (-62.116570825, 231.822198309), (-53.929095067, 233.862465362))
            Line((-53.929095067, 233.862465362), (-55.722141329, 244.031336032))
            Line((-55.722141329, 244.031336032), (-31.101947504, 248.372540474))
            Line((-31.101947504, 248.372540474), (-29.308901242, 238.203669804))
            ThreePointArc((-29.308901242, 238.203669804), (-20.917378259, 239.086727542), (-12.5, 239.674258109))
            Line((-12.5, 239.674258109), (-12.5, 250))
        make_face()
    extrude(amount=BOSS_EXTRUDE1_DEPTH)

    # Sketch2 → Cut-Extrude1 (cut)
    with BuildSketch(Plane.ZY):
        Circle(SKETCH2_R)
    extrude(amount=-CUT_EXTRUDE1_DEPTH, mode=Mode.SUBTRACT)


solid = part.part
